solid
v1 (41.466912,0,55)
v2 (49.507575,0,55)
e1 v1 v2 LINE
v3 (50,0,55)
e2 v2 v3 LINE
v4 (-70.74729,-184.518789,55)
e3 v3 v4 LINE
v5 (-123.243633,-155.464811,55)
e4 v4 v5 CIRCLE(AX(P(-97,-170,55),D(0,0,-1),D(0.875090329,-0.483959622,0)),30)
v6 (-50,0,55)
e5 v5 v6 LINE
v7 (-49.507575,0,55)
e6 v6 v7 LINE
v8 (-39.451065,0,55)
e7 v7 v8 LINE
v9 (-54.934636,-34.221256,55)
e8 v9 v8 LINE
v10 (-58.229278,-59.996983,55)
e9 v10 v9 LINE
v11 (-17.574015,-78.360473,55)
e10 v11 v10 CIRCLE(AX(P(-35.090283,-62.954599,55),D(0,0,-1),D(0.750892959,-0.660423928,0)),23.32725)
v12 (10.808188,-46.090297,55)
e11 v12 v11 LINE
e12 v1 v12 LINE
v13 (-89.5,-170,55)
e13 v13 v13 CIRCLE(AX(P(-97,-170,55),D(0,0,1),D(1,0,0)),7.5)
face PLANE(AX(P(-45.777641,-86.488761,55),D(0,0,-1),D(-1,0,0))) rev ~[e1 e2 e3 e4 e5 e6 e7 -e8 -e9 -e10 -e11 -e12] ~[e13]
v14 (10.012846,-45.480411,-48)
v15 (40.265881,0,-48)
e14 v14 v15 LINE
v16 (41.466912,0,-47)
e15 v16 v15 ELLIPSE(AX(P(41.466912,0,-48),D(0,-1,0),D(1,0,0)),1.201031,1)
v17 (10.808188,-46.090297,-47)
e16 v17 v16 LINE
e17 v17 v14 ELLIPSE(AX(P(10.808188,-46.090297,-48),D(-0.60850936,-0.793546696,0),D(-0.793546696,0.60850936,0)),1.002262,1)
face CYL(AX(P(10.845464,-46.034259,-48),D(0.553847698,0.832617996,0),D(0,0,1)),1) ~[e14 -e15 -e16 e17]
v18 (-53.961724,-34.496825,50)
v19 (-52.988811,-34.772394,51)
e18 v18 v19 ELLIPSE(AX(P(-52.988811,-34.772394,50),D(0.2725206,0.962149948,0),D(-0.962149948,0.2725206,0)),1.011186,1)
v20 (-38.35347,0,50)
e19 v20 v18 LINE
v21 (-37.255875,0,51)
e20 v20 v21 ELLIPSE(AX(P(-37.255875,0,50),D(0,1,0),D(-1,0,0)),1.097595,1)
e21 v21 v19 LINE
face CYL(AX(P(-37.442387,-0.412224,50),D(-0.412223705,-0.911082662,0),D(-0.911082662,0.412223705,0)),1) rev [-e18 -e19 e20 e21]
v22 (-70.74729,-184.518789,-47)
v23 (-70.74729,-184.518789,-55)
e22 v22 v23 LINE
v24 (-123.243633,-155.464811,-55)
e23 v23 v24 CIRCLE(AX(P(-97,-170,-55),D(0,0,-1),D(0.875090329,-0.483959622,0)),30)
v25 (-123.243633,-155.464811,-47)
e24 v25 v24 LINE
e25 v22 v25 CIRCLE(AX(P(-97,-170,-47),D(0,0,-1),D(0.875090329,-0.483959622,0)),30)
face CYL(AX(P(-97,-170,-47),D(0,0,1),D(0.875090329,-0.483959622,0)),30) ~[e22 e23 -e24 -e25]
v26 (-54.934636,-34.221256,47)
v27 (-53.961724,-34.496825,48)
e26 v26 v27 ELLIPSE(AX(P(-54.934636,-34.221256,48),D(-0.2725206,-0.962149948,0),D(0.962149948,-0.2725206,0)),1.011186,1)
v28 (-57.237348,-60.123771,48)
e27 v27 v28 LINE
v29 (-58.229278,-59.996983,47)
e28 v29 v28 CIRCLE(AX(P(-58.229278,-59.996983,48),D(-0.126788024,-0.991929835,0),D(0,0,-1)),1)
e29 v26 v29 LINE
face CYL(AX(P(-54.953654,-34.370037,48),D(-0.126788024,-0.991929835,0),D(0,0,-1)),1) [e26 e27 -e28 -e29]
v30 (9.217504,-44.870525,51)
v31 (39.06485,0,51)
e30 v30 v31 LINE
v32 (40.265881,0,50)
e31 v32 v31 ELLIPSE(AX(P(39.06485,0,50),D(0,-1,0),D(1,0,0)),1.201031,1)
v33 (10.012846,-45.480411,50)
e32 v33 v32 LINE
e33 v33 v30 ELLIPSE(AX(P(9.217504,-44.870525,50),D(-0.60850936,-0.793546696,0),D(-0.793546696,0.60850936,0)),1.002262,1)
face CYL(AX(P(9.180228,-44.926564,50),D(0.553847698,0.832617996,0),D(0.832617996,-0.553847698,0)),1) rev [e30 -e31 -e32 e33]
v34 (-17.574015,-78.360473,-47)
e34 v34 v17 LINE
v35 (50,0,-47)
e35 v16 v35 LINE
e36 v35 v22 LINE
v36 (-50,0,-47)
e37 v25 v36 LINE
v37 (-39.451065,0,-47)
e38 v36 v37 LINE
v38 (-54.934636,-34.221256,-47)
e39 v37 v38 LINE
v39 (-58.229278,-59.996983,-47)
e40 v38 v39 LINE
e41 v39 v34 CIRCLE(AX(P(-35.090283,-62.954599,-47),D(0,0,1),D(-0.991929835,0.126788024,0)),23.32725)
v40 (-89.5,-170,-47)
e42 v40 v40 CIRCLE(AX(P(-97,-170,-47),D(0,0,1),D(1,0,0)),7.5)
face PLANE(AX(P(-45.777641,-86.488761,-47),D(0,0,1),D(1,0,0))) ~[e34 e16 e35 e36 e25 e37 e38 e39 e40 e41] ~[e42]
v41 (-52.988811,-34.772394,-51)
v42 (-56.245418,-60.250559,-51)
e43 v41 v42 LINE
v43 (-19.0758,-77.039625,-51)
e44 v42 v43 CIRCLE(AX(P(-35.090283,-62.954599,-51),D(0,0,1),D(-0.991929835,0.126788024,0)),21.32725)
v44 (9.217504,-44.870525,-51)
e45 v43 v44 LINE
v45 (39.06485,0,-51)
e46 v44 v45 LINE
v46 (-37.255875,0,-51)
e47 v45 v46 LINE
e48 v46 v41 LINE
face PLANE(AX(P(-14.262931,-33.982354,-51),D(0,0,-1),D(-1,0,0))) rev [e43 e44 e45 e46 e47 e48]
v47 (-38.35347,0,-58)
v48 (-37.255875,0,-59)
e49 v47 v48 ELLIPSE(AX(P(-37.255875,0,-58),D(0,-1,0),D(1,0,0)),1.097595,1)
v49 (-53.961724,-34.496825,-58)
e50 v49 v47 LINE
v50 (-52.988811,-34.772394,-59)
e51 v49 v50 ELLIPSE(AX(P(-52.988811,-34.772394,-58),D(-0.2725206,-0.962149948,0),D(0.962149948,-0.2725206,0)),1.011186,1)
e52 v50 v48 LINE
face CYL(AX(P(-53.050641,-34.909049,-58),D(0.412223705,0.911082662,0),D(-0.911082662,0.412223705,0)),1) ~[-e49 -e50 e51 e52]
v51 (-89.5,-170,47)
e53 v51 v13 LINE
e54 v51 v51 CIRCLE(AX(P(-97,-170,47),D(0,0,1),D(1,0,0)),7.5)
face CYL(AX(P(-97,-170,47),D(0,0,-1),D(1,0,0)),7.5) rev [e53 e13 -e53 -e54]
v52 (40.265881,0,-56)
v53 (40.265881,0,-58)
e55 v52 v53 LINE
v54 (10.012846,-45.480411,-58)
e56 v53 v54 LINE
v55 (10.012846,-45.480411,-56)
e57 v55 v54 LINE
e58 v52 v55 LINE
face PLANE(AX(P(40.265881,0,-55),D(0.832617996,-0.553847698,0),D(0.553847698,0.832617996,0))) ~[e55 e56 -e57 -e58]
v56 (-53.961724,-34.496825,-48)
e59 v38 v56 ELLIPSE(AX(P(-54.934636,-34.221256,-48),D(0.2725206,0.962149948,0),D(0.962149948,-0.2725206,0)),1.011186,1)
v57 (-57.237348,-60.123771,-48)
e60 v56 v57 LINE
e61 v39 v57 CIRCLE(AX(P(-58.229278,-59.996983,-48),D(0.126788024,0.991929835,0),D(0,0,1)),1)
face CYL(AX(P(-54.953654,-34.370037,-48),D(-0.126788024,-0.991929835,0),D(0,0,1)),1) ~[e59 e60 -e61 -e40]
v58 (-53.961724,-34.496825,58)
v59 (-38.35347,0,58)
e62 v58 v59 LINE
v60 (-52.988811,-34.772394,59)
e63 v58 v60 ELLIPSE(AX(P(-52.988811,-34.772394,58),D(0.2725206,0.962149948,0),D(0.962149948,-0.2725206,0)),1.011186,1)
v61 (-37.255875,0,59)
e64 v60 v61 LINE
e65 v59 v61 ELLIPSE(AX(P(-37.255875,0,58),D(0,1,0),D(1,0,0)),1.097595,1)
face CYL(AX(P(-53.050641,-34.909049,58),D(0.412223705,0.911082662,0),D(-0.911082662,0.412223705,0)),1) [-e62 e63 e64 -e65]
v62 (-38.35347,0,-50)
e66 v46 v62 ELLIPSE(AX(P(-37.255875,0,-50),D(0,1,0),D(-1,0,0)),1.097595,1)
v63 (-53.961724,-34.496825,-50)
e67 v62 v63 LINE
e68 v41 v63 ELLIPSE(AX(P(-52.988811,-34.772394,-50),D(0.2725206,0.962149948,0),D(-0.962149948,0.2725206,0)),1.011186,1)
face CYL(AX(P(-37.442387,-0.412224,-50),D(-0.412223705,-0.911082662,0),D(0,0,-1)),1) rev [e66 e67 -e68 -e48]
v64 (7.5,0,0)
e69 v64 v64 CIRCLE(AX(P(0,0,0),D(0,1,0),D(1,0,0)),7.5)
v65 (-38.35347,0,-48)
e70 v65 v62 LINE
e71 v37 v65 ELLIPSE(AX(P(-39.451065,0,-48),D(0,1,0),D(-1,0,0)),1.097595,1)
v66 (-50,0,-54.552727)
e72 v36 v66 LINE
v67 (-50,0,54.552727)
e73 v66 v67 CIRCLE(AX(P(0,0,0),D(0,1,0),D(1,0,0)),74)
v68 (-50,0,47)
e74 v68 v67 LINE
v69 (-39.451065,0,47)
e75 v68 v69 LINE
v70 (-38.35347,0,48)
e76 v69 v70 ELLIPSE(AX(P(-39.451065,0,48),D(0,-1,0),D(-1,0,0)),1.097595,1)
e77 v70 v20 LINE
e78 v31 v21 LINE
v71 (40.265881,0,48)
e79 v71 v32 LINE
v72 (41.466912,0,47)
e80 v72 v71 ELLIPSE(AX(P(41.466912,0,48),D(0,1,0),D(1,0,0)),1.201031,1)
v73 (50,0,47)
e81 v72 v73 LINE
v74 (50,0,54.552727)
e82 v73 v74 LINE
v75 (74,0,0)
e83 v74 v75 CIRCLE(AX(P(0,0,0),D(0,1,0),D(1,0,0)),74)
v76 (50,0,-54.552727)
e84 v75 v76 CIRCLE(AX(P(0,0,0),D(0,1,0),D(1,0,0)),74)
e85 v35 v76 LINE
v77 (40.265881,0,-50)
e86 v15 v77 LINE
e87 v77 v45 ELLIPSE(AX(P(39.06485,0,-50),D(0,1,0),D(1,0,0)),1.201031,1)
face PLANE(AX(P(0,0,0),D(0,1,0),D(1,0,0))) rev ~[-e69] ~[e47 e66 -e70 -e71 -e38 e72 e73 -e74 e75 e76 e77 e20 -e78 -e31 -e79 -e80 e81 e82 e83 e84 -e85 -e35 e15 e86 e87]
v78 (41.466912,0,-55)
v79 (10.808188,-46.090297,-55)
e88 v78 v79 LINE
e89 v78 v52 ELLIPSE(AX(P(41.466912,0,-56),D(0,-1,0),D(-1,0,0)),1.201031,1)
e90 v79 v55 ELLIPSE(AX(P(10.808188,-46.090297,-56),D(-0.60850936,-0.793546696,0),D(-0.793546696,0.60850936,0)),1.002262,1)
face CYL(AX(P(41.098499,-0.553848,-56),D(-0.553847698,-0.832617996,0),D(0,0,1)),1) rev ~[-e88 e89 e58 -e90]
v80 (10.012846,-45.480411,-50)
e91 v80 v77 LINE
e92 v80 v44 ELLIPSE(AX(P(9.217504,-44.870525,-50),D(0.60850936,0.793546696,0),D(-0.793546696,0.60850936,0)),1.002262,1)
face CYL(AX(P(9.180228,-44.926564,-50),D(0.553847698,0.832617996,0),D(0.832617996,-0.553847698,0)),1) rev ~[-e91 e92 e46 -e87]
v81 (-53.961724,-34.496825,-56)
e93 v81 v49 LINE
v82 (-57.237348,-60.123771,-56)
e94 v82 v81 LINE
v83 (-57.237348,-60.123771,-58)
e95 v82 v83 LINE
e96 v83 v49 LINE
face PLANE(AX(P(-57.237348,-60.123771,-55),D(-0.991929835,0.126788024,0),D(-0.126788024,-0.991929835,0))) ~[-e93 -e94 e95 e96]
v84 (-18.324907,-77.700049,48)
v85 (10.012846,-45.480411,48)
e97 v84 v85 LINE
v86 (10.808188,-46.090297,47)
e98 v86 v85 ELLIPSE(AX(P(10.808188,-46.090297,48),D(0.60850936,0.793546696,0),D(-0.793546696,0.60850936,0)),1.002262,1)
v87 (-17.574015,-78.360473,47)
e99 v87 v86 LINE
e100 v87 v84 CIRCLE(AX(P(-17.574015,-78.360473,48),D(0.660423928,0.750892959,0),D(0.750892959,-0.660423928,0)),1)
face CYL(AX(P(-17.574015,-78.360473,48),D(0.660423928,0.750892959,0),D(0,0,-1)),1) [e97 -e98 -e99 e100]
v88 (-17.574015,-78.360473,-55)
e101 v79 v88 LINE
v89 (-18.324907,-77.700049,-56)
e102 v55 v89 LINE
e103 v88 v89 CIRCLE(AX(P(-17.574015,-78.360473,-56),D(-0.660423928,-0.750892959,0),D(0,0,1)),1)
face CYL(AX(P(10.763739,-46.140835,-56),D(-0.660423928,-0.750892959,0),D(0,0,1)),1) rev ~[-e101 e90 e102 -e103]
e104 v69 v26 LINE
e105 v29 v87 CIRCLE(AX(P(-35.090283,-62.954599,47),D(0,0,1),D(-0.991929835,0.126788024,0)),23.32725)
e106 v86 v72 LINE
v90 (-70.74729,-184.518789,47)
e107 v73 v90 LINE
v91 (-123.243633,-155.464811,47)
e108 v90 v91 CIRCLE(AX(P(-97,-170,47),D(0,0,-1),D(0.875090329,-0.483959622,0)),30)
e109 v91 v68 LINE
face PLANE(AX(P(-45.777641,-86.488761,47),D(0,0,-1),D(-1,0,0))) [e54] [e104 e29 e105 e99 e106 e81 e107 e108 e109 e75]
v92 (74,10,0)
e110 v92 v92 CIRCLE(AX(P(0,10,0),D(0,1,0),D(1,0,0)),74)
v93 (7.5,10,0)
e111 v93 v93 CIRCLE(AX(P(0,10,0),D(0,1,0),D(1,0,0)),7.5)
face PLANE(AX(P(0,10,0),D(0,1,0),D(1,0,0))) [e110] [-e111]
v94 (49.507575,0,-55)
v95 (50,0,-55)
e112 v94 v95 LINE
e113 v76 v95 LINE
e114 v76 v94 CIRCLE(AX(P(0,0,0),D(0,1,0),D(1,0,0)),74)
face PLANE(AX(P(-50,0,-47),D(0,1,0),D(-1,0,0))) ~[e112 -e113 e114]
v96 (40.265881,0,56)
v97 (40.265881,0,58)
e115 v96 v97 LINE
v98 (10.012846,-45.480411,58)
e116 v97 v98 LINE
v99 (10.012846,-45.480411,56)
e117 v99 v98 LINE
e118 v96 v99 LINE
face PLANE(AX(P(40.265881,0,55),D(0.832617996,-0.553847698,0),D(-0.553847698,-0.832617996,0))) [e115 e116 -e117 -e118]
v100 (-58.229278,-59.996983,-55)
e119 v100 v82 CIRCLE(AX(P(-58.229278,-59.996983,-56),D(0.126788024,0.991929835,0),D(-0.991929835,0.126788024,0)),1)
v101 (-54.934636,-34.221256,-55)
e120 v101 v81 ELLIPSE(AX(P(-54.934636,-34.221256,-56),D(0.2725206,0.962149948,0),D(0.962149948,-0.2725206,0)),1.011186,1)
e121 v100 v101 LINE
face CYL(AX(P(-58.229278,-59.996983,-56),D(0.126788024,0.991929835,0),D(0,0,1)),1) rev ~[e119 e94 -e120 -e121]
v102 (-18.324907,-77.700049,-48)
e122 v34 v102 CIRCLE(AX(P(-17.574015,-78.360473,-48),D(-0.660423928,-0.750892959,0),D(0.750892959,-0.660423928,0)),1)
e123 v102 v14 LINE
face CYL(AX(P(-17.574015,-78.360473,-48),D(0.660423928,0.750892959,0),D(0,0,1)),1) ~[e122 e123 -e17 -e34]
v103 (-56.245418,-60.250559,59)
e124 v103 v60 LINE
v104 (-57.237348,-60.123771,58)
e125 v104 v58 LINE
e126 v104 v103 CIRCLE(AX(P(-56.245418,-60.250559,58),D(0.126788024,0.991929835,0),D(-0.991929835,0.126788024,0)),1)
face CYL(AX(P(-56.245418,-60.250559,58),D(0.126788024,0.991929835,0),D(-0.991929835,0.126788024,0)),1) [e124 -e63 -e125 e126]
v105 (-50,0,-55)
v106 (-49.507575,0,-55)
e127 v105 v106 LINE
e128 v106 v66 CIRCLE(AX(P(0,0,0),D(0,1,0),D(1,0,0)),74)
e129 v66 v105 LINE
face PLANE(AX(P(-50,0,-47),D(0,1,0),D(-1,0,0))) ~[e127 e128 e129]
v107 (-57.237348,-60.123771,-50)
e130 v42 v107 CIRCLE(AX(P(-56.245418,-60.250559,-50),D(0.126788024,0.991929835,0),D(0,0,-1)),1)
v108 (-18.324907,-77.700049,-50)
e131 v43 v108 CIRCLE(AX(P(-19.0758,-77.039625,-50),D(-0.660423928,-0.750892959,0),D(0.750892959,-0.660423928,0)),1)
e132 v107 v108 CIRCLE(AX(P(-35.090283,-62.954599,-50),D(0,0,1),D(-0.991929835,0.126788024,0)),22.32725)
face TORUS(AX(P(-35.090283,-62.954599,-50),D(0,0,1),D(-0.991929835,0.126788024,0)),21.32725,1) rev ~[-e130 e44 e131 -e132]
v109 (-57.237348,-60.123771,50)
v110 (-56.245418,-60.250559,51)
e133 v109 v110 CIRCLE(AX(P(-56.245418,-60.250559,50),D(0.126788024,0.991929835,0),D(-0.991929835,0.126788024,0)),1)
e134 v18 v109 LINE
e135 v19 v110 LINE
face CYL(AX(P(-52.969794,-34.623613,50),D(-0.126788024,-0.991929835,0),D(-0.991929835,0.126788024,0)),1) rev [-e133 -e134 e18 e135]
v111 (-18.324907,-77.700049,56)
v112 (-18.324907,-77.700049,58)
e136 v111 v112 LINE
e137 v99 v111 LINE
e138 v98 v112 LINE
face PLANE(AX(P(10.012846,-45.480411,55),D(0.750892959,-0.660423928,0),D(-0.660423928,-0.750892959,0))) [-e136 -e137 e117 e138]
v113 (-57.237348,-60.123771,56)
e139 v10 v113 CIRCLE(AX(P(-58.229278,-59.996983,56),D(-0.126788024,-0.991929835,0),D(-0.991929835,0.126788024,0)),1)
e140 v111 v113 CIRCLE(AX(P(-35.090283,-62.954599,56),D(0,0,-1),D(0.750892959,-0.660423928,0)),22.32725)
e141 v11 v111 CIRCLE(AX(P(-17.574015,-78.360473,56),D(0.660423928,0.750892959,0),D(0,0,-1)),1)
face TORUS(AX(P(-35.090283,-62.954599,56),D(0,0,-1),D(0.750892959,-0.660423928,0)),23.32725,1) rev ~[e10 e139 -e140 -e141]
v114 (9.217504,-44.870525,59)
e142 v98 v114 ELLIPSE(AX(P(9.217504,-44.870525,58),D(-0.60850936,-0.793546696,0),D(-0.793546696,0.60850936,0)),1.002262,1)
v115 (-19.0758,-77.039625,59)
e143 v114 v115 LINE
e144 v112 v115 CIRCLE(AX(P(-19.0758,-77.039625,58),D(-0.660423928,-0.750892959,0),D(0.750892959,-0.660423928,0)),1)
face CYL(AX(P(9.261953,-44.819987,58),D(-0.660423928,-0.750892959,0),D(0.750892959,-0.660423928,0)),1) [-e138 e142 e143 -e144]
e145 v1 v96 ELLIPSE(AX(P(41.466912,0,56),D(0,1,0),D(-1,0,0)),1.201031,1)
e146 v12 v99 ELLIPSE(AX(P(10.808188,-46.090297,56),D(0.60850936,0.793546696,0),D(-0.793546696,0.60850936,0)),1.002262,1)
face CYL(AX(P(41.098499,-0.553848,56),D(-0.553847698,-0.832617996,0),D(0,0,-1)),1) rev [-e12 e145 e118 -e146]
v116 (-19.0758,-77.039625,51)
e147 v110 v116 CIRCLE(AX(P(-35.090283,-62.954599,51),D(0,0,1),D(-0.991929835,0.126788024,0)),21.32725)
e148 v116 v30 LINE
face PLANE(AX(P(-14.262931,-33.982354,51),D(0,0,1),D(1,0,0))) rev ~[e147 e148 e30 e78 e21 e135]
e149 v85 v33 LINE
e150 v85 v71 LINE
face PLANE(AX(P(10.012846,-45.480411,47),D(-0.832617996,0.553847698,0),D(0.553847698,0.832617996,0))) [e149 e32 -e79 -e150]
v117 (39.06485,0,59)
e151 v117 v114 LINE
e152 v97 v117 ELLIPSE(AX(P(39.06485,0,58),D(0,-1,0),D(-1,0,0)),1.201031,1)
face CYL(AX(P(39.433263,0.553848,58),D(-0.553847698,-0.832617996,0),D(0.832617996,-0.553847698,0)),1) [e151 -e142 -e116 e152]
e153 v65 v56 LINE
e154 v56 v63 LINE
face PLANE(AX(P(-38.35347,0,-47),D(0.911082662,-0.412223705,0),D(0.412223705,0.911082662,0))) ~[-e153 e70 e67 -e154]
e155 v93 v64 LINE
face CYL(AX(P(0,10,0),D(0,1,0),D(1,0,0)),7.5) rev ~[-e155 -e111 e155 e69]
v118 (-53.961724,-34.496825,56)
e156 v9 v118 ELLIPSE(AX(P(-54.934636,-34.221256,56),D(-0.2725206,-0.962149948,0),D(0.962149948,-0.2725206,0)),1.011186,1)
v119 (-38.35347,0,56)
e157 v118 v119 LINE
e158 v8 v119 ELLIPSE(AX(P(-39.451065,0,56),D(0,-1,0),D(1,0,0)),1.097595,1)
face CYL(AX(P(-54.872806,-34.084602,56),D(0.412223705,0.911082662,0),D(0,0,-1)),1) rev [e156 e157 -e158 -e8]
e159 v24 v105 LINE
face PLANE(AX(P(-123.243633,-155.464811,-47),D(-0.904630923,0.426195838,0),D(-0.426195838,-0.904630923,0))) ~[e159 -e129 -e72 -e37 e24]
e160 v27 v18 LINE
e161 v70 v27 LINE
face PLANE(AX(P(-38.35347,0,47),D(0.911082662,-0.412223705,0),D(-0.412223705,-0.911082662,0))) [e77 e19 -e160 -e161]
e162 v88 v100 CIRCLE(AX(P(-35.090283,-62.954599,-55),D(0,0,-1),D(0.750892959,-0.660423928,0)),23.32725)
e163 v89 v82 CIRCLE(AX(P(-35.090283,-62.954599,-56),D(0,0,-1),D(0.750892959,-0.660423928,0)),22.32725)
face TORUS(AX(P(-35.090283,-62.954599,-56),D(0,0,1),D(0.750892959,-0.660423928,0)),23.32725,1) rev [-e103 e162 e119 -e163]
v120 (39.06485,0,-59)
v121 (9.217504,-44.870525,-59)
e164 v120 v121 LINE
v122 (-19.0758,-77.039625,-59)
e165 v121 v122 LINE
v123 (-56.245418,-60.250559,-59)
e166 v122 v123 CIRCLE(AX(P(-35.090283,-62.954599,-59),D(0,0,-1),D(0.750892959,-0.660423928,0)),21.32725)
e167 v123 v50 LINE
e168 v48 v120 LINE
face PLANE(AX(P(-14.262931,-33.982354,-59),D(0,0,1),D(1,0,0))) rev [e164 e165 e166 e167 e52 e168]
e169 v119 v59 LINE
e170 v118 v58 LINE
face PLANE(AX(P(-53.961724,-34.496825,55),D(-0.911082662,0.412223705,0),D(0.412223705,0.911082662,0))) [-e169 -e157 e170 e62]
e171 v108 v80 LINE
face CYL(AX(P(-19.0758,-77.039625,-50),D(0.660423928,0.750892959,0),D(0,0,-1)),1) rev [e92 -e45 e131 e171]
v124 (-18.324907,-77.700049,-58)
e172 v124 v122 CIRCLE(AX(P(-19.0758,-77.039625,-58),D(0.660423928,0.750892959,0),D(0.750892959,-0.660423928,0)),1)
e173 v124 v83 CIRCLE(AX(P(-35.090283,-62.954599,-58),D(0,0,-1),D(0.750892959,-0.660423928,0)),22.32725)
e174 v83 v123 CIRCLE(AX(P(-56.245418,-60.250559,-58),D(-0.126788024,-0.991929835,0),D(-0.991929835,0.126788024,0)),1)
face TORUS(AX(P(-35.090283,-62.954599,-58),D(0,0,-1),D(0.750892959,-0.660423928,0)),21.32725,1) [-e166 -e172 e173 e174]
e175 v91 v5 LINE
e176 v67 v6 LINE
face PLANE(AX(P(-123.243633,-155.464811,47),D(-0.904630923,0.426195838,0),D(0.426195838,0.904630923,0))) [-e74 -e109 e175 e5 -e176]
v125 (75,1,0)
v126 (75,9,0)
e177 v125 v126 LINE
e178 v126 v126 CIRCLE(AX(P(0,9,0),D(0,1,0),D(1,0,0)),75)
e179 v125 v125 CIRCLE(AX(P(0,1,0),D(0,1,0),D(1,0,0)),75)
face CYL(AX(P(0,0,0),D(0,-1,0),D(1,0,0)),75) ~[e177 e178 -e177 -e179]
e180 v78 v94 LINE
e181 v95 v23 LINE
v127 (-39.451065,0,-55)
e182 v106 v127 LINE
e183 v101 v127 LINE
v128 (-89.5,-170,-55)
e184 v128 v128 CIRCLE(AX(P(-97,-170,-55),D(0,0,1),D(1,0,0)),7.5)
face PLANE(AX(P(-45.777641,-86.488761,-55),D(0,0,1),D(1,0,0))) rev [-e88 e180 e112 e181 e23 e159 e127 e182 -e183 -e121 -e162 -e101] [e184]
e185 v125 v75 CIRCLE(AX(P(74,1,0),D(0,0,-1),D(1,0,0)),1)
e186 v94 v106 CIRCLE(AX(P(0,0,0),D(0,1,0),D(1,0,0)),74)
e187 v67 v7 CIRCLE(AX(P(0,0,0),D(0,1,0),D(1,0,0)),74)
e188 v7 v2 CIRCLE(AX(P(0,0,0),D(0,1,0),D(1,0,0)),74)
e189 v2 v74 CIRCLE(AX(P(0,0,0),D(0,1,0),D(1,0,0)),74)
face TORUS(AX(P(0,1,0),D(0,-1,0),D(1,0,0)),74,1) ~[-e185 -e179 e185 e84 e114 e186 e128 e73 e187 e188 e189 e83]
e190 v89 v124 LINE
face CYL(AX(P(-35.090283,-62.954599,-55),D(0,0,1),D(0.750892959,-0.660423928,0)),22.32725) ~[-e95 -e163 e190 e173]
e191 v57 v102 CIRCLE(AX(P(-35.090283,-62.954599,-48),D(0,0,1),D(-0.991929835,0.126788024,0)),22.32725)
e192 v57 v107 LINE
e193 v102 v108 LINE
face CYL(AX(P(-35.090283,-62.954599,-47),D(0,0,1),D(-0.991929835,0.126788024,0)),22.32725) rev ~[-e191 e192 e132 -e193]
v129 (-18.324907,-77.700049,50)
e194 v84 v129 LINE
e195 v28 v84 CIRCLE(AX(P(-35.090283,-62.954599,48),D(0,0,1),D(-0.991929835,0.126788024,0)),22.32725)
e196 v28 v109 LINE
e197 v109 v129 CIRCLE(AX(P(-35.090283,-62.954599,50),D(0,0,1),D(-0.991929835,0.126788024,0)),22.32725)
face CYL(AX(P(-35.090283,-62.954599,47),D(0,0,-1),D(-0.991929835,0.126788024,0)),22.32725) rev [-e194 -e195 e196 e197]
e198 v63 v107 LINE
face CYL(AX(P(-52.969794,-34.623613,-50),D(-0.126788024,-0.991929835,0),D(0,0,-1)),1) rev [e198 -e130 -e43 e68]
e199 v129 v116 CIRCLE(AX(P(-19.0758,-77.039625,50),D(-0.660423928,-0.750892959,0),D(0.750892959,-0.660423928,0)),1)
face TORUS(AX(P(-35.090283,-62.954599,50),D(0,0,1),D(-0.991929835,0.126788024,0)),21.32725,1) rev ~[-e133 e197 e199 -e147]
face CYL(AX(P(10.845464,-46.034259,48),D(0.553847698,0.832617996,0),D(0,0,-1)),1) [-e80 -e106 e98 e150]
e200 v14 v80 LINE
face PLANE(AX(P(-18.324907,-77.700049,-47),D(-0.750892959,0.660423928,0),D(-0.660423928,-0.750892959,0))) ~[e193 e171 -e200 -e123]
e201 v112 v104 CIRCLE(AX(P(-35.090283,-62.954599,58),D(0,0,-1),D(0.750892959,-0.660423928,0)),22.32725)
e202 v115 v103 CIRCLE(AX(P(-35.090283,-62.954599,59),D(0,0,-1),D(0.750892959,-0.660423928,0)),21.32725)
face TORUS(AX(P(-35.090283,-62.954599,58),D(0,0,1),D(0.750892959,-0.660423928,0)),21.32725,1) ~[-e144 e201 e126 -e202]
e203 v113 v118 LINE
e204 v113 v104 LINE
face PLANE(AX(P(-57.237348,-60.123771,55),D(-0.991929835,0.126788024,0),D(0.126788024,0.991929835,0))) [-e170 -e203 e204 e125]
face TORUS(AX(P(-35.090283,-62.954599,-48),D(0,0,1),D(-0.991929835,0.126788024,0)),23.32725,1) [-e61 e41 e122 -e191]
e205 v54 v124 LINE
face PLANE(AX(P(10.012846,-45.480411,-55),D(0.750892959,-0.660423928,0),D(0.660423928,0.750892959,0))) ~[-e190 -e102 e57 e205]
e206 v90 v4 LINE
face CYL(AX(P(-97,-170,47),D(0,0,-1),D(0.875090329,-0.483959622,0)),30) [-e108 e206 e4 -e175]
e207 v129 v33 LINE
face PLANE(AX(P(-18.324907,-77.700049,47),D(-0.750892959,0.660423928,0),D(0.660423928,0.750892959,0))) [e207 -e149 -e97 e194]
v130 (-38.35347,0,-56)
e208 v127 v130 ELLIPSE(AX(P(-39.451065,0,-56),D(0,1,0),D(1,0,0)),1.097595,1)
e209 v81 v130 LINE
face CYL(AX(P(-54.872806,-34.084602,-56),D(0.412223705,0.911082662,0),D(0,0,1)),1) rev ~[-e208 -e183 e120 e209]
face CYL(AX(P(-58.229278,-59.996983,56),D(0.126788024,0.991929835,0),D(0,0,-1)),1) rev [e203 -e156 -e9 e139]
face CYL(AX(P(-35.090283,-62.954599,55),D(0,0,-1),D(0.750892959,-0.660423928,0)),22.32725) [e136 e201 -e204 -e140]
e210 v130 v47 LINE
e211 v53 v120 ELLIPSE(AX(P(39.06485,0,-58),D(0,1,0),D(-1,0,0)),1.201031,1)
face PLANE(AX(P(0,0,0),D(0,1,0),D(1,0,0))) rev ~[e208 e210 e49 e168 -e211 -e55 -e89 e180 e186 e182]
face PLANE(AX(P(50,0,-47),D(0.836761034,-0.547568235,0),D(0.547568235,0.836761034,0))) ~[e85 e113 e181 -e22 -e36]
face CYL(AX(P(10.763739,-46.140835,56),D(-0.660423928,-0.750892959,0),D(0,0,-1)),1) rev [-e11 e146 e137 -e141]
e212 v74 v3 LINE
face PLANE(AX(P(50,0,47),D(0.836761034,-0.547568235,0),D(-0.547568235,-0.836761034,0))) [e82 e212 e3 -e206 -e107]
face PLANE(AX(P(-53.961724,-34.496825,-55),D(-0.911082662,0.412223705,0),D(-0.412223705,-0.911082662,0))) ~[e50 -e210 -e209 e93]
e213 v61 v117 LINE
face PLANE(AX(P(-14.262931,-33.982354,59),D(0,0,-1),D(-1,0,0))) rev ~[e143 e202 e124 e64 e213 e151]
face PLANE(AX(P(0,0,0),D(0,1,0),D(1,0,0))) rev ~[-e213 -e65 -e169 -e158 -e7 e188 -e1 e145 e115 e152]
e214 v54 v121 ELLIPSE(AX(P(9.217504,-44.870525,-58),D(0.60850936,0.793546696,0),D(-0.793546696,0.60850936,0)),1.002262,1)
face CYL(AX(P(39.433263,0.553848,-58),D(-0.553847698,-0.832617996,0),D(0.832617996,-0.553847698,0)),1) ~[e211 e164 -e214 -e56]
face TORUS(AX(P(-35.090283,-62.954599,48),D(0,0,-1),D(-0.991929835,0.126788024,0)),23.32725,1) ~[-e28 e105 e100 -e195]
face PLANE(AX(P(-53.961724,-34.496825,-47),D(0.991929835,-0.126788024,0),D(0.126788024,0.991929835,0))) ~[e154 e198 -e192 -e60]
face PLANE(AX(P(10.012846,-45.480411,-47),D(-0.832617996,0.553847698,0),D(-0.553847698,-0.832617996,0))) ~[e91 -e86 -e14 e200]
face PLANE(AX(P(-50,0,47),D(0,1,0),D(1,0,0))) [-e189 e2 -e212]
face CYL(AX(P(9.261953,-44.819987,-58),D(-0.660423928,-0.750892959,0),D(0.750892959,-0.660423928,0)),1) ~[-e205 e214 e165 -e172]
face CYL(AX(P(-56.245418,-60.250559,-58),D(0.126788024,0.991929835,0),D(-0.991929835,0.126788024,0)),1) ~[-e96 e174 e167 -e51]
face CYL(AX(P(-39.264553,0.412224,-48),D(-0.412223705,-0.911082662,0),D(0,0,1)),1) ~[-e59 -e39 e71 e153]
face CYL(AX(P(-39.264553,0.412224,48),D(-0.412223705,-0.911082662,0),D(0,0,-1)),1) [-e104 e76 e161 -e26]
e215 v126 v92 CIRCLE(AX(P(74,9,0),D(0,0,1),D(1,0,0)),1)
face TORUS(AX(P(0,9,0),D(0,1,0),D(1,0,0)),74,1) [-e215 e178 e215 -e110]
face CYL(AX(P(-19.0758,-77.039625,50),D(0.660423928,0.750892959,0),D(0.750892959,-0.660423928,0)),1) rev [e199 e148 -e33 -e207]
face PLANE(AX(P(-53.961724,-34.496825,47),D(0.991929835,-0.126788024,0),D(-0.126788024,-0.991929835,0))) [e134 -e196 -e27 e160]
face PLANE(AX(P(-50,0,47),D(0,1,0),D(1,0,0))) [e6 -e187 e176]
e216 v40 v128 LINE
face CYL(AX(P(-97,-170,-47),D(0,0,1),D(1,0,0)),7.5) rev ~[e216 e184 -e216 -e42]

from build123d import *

# Parameters (mm, degrees)
SKETCH1_R            = 75
BOSS_EXTRUDE1_DEPTH  = 10
FILLET1_R            = 1
SKETCH2_R            = 7.5
BOSS_EXTRUDE2_DEPTH  = 8
BOSS_EXTRUDE3_DEPTH  = 4
FILLET2_R            = 1
CUT_EXTRUDE1_DEPTH   = 4
FILLET3_R            = 1
FILLET2_OF_MIRROR1_R = 1
FILLET3_OF_MIRROR1_R = 1
SKETCH7_R            = 7.5
CUT_EXTRUDE2_DEPTH   = 211


with BuildPart() as part:
    # Sketch1 → Boss-Extrude1 (new body)
    with BuildSketch(Plane(origin=(0, 0, 0), x_dir=(1, 0, 0), z_dir=(0, 1, 0))):
        Circle(SKETCH1_R)
    extrude(amount=BOSS_EXTRUDE1_DEPTH)

    # Fillet1
    fillet1_edges = [part.edges().sort_by_distance(p)[0] for p in [
        (-75, 0, 0),
        (-75, 10, 0),
    ]]
    fillet(fillet1_edges, radius=FILLET1_R)

    # Sketch2 → Boss-Extrude2 (add)
    with BuildSketch(Plane.XY.offset(47)):
        with BuildLine():
            Line((0, 0), (50, 0))
            Line((50, 0), (-70.747290118, -184.51878865))
            ThreePointArc((-70.747290118, -184.51878865), (-111.526989665, -196.248172723), (-123.243633002, -155.464810739))
            Line((-123.243633002, -155.464810739), (-50, 0))
            Line((-50, 0), (0, 0))
        make_face()
        with Locations((-97, -170)):
            Circle(SKETCH2_R, mode=Mode.SUBTRACT)
    boss_extrude2 = extrude(amount=BOSS_EXTRUDE2_DEPTH)

    # Sketch4 → Boss-Extrude3 (add)
    with BuildSketch(Plane.XY.offset(55)):
        with BuildLine():
            Line((40.265881009, 0), (10.01284637, -45.48041125))
            Line((10.01284637, -45.48041125), (-18.324907466, -77.700049173))
            ThreePointArc((-18.324907466, -77.700049173), (-44.281149675, -83.30242595), (-57.237348299, -60.123770847))
            Line((-57.237348299, -60.123770847), (-53.961723696, -34.496825425))
            Line((-53.961723696, -34.496825425), (-38.353470156, 0))
            Line((-38.353470156, 0), (40.265881009, 0))
        make_face()
    boss_extrude3 = extrude(amount=BOSS_EXTRUDE3_DEPTH)

    # Fillet2
    fillet2_edges = [part.edges().sort_by_distance(p)[0] for p in [
        (-46.157596926, -17.248412713, 55),
        (-55.599535997, -47.310298136, 55),
        (-44.281149675, -83.30242595, 55),
        (-4.156030548, -61.590230211, 55),
        (25.13936369, -22.740205625, 55),
        (-46.157596926, -17.248412713, 59),
        (-55.599535997, -47.310298136, 59),
        (-44.281149675, -83.30242595, 59),
        (-4.156030548, -61.590230211, 59),
        (25.13936369, -22.740205625, 59),
    ]]
    fillet(fillet2_edges, radius=FILLET2_R)

    # Sketch6 → Cut-Extrude1 (cut)
    with BuildSketch(Plane(origin=(0, 0, 47), x_dir=(-1, 0, 0), z_dir=(0, 0, -1))):
        with BuildLine():
            Line((-40.265881009, 0), (38.353470156, 0))
            Line((38.353470156, 0), (53.961723696, -34.496825425))
            Line((53.961723696, -34.496825425), (57.237348299, -60.123770847))
            ThreePointArc((57.237348299, -60.123770847), (44.281149675, -83.30242595), (18.324907466, -77.700049173))
            Line((18.324907466, -77.700049173), (-10.01284637, -45.48041125))
            Line((-10.01284637, -45.48041125), (-40.265881009, 0))
        make_face()
    cut_extrude1 = extrude(amount=-CUT_EXTRUDE1_DEPTH, mode=Mode.SUBTRACT)

    # Fillet3
    fillet3_edges = [part.edges().sort_by_distance(p)[0] for p in [
        (25.13936369, -22.740205625, 51),
        (-46.157596926, -17.248412713, 51),
        (-55.599535997, -47.310298136, 51),
        (-44.281149675, -83.30242595, 51),
        (-4.156030548, -61.590230211, 51),
        (25.13936369, -22.740205625, 47),
        (-4.156030548, -61.590230211, 47),
        (-44.281149675, -83.30242595, 47),
        (-55.599535997, -47.310298136, 47),
        (-46.157596926, -17.248412713, 47),
    ]]
    fillet(fillet3_edges, radius=FILLET3_R)

    # Mirror1: Boss-Extrude2, Boss-Extrude3, Cut-Extrude1 across plane
    add(boss_extrude2.mirror(Plane.XY))
    add(boss_extrude3.mirror(Plane.XY))
    add(cut_extrude1.mirror(Plane.XY), mode=Mode.SUBTRACT)

    # Fillet2 of Mirror1
    fillet2_of_mirror1_edges = [part.edges().sort_by_distance(p)[0] for p in [
        (-46.157596926, -17.248412713, -55),
        (-55.599535997, -47.310298136, -55),
        (-44.281149675, -83.30242595, -55),
        (-4.156030548, -61.590230211, -55),
        (25.13936369, -22.740205625, -55),
        (-46.157596926, -17.248412713, -59),
        (-55.599535997, -47.310298136, -59),
        (-44.281149675, -83.30242595, -59),
        (-4.156030548, -61.590230211, -59),
        (25.13936369, -22.740205625, -59),
    ]]
    fillet(fillet2_of_mirror1_edges, radius=FILLET2_OF_MIRROR1_R)

    # Fillet3 of Mirror1
    fillet3_of_mirror1_edges = [part.edges().sort_by_distance(p)[0] for p in [
        (25.13936369, -22.740205625, -51),
        (-46.157596926, -17.248412713, -51),
        (-55.599535997, -47.310298136, -51),
        (-44.281149675, -83.30242595, -51),
        (-4.156030548, -61.590230211, -51),
        (25.13936369, -22.740205625, -47),
        (-4.156030548, -61.590230211, -47),
        (-44.281149675, -83.30242595, -47),
        (-55.599535997, -47.310298136, -47),
        (-46.157596926, -17.248412713, -47),
    ]]
    fillet(fillet3_of_mirror1_edges, radius=FILLET3_OF_MIRROR1_R)

    # Sketch7 → Cut-Extrude2 (cut, through all)
    with BuildSketch(Plane(origin=(0, 10, 0), x_dir=(1, 0, 0), z_dir=(0, 1, 0))):
        Circle(SKETCH7_R)
    extrude(amount=-CUT_EXTRUDE2_DEPTH, mode=Mode.SUBTRACT)


solid = part.part
